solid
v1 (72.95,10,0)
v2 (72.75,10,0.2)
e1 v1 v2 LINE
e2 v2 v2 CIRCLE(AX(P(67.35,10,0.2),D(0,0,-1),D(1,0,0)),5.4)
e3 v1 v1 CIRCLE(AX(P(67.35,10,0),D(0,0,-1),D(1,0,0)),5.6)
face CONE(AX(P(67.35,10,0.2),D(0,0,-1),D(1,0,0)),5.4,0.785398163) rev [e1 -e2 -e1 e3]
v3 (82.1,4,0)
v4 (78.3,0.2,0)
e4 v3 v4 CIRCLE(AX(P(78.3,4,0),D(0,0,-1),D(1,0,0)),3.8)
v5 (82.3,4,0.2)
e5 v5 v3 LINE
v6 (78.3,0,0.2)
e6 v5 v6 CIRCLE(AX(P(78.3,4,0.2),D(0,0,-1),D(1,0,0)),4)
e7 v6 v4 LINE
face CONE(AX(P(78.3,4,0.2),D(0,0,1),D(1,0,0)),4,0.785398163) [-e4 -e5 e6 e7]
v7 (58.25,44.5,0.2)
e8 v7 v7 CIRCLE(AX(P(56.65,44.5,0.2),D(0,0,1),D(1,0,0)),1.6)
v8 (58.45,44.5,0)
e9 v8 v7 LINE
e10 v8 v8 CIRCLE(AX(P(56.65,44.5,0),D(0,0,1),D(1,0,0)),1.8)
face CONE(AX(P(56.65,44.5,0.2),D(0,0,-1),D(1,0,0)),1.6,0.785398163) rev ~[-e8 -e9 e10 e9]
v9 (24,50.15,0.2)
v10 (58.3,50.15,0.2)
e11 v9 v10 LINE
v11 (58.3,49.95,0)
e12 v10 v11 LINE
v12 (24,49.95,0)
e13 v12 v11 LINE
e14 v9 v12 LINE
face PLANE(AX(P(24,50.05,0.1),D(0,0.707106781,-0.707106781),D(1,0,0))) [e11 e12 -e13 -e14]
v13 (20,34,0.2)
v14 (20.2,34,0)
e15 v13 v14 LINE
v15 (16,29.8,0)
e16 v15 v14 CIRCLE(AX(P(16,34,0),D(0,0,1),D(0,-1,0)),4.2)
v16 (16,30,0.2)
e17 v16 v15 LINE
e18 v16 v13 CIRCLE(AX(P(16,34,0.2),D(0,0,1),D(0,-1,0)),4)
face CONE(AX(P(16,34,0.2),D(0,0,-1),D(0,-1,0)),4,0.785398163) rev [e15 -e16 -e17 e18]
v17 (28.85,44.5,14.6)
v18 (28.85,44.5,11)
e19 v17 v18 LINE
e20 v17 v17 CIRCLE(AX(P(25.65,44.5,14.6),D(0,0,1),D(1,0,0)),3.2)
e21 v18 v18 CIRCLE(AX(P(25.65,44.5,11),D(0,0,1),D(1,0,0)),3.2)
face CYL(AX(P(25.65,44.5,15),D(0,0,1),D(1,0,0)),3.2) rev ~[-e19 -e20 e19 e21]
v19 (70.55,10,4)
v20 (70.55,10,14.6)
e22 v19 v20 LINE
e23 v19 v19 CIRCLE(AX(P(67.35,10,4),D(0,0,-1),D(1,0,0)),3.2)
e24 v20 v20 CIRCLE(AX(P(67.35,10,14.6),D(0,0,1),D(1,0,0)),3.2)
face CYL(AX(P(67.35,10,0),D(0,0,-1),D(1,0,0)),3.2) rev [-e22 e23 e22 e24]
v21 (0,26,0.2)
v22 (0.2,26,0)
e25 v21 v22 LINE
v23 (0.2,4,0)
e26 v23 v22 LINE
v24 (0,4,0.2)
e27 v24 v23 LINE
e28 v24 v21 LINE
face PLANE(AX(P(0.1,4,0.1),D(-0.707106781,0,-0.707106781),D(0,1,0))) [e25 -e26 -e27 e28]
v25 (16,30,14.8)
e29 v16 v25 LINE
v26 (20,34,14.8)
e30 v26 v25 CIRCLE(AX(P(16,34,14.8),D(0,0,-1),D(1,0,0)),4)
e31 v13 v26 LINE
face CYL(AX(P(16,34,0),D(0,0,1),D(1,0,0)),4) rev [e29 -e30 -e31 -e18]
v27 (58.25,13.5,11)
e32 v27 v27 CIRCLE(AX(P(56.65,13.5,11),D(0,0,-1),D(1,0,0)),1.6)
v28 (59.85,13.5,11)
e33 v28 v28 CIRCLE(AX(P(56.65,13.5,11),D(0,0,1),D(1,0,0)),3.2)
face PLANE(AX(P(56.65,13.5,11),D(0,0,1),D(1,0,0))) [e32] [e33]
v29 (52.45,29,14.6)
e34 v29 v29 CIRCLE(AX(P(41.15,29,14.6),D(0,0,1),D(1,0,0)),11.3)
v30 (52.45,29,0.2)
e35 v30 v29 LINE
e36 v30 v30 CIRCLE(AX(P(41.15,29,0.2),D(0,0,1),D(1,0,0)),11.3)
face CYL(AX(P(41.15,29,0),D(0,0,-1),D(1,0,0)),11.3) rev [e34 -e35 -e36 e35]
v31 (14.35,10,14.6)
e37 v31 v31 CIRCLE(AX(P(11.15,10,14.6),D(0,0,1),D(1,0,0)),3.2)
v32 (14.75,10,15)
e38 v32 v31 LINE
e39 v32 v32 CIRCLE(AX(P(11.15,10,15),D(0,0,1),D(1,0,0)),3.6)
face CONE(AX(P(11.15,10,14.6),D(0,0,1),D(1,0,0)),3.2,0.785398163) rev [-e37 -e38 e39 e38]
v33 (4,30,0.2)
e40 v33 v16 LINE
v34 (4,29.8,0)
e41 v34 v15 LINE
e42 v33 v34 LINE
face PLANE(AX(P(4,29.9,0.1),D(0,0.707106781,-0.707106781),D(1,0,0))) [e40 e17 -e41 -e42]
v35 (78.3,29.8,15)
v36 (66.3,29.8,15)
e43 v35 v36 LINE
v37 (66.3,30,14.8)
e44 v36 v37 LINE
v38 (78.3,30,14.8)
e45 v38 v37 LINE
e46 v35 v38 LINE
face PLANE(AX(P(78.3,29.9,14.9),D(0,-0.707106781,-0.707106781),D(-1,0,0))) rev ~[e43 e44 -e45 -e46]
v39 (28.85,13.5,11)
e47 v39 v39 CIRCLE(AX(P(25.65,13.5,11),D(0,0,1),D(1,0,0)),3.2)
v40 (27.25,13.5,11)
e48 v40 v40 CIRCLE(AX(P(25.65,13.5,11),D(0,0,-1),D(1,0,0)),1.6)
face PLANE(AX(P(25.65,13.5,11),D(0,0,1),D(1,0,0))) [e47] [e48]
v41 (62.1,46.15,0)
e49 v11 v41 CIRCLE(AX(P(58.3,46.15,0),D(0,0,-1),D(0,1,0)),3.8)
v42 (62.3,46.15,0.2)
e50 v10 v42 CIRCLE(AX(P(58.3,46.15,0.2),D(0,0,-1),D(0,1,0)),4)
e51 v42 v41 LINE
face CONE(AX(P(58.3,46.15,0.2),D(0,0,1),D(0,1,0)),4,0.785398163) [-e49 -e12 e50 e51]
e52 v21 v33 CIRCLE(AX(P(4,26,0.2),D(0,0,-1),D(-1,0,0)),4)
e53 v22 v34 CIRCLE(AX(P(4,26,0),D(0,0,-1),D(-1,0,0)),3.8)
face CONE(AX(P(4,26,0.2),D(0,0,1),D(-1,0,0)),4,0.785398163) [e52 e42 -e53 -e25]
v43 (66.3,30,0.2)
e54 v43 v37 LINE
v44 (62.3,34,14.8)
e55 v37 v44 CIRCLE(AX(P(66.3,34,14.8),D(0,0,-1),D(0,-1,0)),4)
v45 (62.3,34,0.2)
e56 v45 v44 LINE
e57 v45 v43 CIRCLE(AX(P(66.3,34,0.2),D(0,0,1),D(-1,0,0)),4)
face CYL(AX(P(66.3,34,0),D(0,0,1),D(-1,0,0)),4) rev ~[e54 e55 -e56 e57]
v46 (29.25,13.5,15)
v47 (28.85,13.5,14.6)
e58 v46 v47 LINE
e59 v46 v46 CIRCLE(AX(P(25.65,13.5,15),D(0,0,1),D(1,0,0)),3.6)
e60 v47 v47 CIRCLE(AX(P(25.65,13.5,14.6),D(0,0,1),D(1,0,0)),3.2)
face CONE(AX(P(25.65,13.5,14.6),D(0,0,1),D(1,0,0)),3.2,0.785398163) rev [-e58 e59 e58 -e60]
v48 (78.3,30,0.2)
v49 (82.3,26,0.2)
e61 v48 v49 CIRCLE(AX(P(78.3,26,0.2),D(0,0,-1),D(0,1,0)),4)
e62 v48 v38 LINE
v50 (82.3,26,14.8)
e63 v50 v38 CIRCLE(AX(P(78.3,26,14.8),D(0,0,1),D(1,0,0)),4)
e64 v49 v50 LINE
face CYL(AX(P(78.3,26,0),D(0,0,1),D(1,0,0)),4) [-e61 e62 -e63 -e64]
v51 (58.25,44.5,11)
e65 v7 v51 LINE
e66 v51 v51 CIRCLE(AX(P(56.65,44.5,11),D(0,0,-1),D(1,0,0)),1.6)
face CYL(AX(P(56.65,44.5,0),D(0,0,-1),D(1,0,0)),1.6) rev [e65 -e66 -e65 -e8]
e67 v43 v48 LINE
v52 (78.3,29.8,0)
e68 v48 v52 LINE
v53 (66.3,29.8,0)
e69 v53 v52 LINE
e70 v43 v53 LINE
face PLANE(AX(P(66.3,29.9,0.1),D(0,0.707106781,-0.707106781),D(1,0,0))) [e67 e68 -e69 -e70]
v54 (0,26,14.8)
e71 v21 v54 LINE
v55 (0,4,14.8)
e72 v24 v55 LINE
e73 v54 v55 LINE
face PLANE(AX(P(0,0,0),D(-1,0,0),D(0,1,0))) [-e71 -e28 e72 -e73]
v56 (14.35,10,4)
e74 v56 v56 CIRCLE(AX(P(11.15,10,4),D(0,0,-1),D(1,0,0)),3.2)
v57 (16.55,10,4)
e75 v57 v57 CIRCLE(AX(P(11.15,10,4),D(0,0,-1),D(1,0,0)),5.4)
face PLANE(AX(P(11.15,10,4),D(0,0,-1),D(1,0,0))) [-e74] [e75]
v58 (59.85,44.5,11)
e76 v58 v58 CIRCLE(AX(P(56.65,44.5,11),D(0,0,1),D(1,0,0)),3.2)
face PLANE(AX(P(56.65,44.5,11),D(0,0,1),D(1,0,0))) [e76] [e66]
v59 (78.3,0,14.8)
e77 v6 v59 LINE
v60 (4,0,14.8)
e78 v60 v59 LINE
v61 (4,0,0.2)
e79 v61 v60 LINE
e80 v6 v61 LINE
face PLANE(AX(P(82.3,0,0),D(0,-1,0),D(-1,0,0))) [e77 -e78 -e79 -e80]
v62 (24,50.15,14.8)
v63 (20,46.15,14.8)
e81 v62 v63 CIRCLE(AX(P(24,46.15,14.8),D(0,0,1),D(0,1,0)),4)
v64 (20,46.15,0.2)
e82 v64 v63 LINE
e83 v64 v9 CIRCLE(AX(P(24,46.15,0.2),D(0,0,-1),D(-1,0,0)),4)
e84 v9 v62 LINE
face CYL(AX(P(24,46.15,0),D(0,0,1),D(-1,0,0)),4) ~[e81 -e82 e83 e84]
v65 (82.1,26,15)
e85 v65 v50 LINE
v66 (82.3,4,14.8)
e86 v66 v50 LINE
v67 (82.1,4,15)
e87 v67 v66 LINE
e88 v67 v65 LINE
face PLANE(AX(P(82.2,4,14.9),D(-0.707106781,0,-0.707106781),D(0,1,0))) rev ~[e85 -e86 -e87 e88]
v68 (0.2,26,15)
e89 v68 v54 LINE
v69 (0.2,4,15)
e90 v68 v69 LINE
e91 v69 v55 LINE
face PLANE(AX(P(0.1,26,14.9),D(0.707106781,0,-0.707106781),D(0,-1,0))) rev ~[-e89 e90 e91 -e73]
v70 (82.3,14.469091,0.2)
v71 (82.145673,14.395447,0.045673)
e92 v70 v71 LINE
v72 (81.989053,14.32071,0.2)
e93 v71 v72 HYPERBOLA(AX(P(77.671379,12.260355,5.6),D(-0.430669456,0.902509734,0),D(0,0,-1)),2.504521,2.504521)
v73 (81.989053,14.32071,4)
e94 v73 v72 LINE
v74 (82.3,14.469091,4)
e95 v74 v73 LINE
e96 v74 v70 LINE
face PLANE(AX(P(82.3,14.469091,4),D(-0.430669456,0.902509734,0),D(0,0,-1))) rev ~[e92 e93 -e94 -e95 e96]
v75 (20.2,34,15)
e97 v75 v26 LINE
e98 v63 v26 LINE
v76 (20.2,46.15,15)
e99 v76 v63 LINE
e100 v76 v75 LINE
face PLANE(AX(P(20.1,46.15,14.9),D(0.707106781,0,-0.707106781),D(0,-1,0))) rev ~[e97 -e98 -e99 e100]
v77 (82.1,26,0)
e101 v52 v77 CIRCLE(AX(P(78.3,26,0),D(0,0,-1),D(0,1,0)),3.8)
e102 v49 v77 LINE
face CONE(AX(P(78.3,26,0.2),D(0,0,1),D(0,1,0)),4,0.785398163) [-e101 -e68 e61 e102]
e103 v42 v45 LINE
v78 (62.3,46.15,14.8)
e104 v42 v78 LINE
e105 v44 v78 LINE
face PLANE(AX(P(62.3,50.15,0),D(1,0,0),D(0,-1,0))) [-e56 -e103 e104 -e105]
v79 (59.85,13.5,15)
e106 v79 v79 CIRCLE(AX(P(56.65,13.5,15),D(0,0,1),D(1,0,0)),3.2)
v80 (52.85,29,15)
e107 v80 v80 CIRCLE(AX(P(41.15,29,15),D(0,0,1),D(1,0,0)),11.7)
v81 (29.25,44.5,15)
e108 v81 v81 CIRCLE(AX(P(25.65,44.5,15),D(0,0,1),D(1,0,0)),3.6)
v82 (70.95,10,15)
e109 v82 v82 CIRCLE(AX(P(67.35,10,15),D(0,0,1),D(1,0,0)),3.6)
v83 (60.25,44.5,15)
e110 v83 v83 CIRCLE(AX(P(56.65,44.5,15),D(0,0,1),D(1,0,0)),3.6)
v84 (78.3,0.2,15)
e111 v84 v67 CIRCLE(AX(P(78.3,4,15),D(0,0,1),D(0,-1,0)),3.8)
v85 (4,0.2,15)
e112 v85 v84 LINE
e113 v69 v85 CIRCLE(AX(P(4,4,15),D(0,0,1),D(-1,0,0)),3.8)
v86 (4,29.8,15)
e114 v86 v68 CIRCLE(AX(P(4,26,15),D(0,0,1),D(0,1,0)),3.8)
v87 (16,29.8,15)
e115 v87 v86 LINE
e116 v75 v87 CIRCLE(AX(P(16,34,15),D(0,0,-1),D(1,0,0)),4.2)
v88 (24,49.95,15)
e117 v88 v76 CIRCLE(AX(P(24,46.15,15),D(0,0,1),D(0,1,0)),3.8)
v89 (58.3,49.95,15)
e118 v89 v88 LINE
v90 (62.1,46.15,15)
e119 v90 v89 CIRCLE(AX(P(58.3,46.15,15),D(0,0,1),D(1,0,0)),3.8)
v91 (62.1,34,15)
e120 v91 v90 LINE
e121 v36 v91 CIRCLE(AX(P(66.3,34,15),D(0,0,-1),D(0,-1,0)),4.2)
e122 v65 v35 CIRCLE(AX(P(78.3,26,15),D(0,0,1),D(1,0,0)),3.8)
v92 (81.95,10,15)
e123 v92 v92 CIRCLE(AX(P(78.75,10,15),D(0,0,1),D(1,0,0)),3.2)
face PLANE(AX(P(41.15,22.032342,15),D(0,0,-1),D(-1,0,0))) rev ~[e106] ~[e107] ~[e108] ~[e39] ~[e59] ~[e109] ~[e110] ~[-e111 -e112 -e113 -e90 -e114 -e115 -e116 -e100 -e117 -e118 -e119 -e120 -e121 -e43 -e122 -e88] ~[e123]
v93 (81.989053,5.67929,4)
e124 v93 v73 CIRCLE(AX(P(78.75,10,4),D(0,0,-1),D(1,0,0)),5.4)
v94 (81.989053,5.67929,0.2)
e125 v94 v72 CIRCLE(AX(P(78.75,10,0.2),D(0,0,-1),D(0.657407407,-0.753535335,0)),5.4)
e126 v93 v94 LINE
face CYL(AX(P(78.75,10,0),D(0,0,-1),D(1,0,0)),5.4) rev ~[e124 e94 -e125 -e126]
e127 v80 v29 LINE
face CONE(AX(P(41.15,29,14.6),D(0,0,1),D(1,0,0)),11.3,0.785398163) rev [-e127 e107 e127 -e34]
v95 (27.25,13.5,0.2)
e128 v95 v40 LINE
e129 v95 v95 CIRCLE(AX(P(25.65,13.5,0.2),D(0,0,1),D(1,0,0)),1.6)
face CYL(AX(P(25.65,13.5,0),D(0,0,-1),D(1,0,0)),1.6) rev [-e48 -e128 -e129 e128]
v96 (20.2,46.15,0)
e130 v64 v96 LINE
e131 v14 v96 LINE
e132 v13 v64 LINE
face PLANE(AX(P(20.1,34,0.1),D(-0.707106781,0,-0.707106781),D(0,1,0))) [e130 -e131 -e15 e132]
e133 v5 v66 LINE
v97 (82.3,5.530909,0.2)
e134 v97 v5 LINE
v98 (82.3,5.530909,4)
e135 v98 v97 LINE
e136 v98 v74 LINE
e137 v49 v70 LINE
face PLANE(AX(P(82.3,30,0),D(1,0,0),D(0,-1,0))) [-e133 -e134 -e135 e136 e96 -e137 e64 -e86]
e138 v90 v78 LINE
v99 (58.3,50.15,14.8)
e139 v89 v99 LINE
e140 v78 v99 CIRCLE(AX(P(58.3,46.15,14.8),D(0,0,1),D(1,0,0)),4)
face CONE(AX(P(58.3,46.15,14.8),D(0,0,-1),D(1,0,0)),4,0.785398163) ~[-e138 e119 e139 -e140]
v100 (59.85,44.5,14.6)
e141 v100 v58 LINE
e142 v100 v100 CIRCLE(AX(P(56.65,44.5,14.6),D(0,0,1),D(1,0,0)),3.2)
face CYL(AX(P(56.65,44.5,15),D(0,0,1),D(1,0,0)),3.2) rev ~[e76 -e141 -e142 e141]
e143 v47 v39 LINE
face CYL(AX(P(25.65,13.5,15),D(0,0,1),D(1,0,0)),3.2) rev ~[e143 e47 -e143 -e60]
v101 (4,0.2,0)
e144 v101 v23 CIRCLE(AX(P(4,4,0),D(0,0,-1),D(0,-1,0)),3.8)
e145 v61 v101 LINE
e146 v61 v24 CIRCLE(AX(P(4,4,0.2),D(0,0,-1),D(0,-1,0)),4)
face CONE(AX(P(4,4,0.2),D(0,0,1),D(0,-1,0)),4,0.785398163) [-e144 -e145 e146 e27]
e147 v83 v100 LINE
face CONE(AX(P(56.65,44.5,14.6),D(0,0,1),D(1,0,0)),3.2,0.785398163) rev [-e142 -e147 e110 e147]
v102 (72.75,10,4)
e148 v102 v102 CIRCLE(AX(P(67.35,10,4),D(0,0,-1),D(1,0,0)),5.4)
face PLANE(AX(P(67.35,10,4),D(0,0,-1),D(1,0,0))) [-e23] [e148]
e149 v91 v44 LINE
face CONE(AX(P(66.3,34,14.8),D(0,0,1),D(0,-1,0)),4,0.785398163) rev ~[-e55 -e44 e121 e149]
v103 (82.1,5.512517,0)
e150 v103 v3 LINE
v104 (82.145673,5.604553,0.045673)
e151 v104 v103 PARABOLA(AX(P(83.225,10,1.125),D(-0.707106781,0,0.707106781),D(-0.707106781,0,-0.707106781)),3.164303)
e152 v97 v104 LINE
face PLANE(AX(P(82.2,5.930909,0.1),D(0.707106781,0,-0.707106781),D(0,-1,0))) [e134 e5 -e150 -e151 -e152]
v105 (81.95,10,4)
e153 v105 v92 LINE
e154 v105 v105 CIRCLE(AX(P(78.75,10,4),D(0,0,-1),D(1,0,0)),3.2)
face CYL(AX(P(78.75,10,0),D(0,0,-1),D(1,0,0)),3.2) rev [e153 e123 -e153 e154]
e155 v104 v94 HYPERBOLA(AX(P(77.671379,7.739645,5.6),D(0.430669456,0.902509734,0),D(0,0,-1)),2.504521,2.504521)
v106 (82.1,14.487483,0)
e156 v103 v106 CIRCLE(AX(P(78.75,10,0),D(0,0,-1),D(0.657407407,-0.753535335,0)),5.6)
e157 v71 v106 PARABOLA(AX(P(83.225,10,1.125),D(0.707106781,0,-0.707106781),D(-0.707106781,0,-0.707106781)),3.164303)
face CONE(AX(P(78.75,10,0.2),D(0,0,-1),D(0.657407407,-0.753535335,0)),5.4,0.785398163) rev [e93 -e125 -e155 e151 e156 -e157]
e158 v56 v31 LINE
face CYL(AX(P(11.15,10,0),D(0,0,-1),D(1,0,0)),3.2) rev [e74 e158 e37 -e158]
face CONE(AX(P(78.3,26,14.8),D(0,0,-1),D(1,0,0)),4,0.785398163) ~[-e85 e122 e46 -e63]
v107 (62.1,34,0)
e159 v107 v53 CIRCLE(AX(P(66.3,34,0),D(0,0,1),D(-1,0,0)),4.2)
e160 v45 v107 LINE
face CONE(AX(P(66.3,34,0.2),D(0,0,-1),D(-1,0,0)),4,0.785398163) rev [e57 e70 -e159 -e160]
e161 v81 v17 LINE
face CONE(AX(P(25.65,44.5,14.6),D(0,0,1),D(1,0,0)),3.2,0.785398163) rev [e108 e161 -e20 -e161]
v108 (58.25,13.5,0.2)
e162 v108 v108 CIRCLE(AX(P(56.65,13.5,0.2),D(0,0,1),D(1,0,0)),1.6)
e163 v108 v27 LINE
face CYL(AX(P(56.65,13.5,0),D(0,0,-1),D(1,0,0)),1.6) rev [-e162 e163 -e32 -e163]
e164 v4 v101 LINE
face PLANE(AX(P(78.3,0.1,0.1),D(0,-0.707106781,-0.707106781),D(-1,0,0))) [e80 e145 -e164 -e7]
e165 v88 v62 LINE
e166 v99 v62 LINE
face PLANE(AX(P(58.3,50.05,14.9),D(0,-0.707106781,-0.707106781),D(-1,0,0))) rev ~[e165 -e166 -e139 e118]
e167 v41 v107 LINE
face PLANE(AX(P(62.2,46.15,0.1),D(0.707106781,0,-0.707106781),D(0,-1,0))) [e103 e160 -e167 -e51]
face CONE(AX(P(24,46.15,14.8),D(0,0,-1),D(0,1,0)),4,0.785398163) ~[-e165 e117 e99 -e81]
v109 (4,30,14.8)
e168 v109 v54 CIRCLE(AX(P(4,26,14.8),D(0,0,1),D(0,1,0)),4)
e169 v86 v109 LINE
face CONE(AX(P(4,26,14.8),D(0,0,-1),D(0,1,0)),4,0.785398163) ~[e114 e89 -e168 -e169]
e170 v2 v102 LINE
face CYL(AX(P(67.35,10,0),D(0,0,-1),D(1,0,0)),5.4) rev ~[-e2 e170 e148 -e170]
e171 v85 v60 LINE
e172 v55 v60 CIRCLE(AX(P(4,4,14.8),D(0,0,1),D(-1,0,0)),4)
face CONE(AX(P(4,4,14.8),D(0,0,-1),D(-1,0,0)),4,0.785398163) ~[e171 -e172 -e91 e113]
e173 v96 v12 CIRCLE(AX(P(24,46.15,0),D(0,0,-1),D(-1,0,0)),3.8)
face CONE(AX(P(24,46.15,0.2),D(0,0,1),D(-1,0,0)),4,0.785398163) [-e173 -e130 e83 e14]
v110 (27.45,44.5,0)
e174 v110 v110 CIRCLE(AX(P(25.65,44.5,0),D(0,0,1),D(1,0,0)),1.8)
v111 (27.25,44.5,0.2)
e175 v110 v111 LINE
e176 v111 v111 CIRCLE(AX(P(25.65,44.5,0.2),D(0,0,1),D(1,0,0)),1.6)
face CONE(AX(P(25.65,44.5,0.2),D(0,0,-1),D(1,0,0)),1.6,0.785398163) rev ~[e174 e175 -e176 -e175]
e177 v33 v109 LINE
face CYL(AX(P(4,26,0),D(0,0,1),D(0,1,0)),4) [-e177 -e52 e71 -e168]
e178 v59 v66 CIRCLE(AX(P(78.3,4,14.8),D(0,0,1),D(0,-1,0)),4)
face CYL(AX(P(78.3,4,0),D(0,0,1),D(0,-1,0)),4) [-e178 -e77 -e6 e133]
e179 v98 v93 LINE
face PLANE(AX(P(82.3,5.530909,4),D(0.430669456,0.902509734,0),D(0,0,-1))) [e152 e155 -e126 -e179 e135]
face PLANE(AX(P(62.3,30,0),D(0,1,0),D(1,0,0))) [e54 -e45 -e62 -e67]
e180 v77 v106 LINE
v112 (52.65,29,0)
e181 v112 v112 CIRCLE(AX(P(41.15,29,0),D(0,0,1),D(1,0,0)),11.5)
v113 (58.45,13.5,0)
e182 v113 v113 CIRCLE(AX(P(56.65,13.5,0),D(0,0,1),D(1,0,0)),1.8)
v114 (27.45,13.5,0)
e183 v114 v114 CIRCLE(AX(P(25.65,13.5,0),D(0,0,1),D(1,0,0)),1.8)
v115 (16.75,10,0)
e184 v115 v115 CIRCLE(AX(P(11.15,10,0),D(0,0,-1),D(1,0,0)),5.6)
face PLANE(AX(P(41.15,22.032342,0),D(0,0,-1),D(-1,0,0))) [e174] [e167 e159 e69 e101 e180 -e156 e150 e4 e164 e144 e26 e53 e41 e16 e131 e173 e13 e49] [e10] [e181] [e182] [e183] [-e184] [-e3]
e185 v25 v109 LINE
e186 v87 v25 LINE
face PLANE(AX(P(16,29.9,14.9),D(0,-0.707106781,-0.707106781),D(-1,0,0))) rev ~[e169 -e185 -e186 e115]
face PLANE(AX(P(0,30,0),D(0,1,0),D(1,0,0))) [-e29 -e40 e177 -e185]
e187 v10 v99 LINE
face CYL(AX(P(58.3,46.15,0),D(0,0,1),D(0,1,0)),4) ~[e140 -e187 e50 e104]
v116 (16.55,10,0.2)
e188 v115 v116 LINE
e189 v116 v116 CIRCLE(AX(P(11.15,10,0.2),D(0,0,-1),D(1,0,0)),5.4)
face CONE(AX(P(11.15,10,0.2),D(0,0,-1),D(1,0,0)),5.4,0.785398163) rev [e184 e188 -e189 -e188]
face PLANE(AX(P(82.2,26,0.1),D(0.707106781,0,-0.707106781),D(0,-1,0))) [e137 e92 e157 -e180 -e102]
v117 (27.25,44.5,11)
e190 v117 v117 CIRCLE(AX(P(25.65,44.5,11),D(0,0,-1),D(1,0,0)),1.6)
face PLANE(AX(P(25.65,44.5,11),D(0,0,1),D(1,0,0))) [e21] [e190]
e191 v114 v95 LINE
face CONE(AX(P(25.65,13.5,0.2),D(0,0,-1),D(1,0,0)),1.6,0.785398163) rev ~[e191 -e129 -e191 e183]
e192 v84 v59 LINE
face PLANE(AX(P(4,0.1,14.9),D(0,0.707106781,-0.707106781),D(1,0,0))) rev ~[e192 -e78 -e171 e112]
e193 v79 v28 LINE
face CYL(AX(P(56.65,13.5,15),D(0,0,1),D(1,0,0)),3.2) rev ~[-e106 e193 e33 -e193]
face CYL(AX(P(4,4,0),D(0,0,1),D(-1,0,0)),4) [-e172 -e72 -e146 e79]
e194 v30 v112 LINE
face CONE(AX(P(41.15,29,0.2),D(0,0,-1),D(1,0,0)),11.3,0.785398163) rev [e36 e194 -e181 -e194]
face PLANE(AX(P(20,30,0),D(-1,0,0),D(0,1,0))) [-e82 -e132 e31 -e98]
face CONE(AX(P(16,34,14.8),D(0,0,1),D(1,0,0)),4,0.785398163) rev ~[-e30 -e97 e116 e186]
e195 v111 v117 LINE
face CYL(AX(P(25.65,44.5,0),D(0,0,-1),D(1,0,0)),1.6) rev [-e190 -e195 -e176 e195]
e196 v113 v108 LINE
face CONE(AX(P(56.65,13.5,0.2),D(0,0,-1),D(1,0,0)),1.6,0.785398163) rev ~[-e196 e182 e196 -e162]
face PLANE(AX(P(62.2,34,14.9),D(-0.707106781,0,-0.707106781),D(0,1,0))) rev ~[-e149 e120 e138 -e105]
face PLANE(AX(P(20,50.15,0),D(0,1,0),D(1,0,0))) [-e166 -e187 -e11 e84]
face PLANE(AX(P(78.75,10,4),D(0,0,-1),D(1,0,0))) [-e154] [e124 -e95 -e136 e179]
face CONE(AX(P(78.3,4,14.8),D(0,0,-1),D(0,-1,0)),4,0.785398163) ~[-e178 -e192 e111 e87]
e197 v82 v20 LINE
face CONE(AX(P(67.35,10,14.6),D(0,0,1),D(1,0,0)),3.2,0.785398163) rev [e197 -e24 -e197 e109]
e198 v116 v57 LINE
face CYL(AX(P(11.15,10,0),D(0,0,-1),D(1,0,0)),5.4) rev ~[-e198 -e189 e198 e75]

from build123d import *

# Parameters (mm, degrees)
SKETCH_R        = 11.3
SKETCH_R_2      = 1.6
SKETCH_R_3      = 3.2
PAD_DEPTH       = 15
SKETCH001_R     = 3.2
POCKET_DEPTH    = 4
SKETCH002_R     = 5.4
POCKET001_DEPTH = 4
FILLET_R        = 4
CHAMFER_SIZE    = 0.4
CHAMFER001_SIZE = 0.2
CHAMFER002_SIZE = 0.2
CHAMFER003_SIZE = 0.4


with BuildPart() as part:
    # Sketch → Pad (new body)
    with BuildSketch(Plane.XY):
        Polygon((20, 30), (20, 50.15), (62.3, 50.15), (62.3, 30), (82.3, 30), (82.3, 0), (0, 0), (0, 30), align=None)
        with Locations((41.15, 29)):
            Circle(SKETCH_R, mode=Mode.SUBTRACT)
        with Locations((25.65, 44.5)):
            Circle(SKETCH_R_2, mode=Mode.SUBTRACT)
        with Locations((25.65, 13.5)):
            Circle(SKETCH_R_2, mode=Mode.SUBTRACT)
        with Locations((56.65, 44.5)):
            Circle(SKETCH_R_2, mode=Mode.SUBTRACT)
        with Locations((56.65, 13.5)):
            Circle(SKETCH_R_2, mode=Mode.SUBTRACT)
        with Locations((11.15, 10)):
            Circle(SKETCH_R_3, mode=Mode.SUBTRACT)
        with Locations((67.35, 10)):
            Circle(SKETCH_R_3, mode=Mode.SUBTRACT)
        with Locations((78.75, 10)):
            Circle(SKETCH_R_3, mode=Mode.SUBTRACT)
    extrude(amount=PAD_DEPTH)

    # Sketch001 (on Face18 of Pad) → Pocket (cut)
    with BuildSketch(Plane.XY.offset(15)):
        with Locations((25.65, 44.5)):
            Circle(SKETCH001_R)
        with Locations((56.65, 44.5)):
            Circle(SKETCH001_R)
        with Locations((56.65, 13.5)):
            Circle(SKETCH001_R)
        with Locations((25.65, 13.5)):
            Circle(SKETCH001_R)
    extrude(amount=-POCKET_DEPTH, mode=Mode.SUBTRACT)

    # Sketch002 (on Face4 of Pocket) → Pocket001 (cut)
    with BuildSketch(Plane(origin=(0, 0, 0), x_dir=(1, 0, 0), z_dir=(0, 0, -1))):
        with Locations((11.15, -10)):
            Circle(SKETCH002_R)
        with Locations((67.35, -10)):
            Circle(SKETCH002_R)
        with Locations((78.75, -10)):
            Circle(SKETCH002_R)
    extrude(amount=-POCKET001_DEPTH, mode=Mode.SUBTRACT)

    # Fillet
    fillet_edges = [part.edges().sort_by_distance(p)[0] for p in [
        (0, 30, 7.5),
        (0, 0, 7.5),
        (82.3, 0, 7.5),
        (82.3, 30, 7.5),
        (62.3, 30, 7.5),
        (62.3, 50.15, 7.5),
        (20, 50.15, 7.5),
        (20, 30, 7.5),
    ]]
    fillet(fillet_edges, radius=FILLET_R)

    # Chamfer
    chamfer_edges = [part.edges().sort_by_distance(p)[0] for p in [
        (64.15, 10, 15),
        (53.45, 44.5, 15),
        (29.85, 29, 15),
        (22.45, 44.5, 15),
        (22.45, 13.5, 15),
        (7.95, 10, 15),
    ]]
    chamfer(chamfer_edges, length=CHAMFER_SIZE)

    # Chamfer001
    chamfer001_edges = [part.edges().sort_by_distance(p)[0] for p in [
        (81.128427, 1.171573, 15),
        (41.15, 0, 15),
        (1.171573, 1.171573, 15),
        (0, 15, 15),
        (1.171573, 28.828427, 15),
        (10, 30, 15),
        (18.828427, 31.171573, 15),
        (20, 40.075, 15),
        (21.171573, 48.978427, 15),
        (41.15, 50.15, 15),
        (61.128427, 48.978427, 15),
        (62.3, 40.075, 15),
        (63.471573, 31.171573, 15),
        (72.3, 30, 15),
        (81.128427, 28.828427, 15),
    ]]
    chamfer(chamfer001_edges, length=CHAMFER001_SIZE)

    # Chamfer002
    chamfer002_edges = [part.edges().sort_by_distance(p)[0] for p in [
        (10, 30, 0),
        (1.171573, 28.828427, 0),
        (18.828427, 31.171573, 0),
        (0, 15, 0),
        (20, 40.075, 0),
        (1.171573, 1.171573, 0),
        (21.171573, 48.978427, 0),
        (41.15, 0, 0),
        (41.15, 50.15, 0),
        (81.128427, 1.171573, 0),
        (61.128427, 48.978427, 0),
        (82.3, 4.965455, 0),
        (62.3, 40.075, 0),
        (73.35, 10, 0),
        (63.471573, 31.171573, 0),
        (82.3, 20.034545, 0),
        (72.3, 30, 0),
        (81.128427, 28.828427, 0),
        (61.95, 10, 0),
        (55.05, 13.5, 0),
        (24.05, 13.5, 0),
        (5.75, 10, 0),
        (55.05, 44.5, 0),
        (29.85, 29, 0),
        (24.05, 44.5, 0),
    ]]
    chamfer(chamfer002_edges, length=CHAMFER002_SIZE)

    # Chamfer003
    chamfer003_edges = [part.edges().sort_by_distance(p)[0] for p in [
        (82.3, 5.930909, 2.1),
        (82.3, 14.069091, 2.1),
    ]]
    chamfer(chamfer003_edges, length=CHAMFER003_SIZE)


solid = part.part
